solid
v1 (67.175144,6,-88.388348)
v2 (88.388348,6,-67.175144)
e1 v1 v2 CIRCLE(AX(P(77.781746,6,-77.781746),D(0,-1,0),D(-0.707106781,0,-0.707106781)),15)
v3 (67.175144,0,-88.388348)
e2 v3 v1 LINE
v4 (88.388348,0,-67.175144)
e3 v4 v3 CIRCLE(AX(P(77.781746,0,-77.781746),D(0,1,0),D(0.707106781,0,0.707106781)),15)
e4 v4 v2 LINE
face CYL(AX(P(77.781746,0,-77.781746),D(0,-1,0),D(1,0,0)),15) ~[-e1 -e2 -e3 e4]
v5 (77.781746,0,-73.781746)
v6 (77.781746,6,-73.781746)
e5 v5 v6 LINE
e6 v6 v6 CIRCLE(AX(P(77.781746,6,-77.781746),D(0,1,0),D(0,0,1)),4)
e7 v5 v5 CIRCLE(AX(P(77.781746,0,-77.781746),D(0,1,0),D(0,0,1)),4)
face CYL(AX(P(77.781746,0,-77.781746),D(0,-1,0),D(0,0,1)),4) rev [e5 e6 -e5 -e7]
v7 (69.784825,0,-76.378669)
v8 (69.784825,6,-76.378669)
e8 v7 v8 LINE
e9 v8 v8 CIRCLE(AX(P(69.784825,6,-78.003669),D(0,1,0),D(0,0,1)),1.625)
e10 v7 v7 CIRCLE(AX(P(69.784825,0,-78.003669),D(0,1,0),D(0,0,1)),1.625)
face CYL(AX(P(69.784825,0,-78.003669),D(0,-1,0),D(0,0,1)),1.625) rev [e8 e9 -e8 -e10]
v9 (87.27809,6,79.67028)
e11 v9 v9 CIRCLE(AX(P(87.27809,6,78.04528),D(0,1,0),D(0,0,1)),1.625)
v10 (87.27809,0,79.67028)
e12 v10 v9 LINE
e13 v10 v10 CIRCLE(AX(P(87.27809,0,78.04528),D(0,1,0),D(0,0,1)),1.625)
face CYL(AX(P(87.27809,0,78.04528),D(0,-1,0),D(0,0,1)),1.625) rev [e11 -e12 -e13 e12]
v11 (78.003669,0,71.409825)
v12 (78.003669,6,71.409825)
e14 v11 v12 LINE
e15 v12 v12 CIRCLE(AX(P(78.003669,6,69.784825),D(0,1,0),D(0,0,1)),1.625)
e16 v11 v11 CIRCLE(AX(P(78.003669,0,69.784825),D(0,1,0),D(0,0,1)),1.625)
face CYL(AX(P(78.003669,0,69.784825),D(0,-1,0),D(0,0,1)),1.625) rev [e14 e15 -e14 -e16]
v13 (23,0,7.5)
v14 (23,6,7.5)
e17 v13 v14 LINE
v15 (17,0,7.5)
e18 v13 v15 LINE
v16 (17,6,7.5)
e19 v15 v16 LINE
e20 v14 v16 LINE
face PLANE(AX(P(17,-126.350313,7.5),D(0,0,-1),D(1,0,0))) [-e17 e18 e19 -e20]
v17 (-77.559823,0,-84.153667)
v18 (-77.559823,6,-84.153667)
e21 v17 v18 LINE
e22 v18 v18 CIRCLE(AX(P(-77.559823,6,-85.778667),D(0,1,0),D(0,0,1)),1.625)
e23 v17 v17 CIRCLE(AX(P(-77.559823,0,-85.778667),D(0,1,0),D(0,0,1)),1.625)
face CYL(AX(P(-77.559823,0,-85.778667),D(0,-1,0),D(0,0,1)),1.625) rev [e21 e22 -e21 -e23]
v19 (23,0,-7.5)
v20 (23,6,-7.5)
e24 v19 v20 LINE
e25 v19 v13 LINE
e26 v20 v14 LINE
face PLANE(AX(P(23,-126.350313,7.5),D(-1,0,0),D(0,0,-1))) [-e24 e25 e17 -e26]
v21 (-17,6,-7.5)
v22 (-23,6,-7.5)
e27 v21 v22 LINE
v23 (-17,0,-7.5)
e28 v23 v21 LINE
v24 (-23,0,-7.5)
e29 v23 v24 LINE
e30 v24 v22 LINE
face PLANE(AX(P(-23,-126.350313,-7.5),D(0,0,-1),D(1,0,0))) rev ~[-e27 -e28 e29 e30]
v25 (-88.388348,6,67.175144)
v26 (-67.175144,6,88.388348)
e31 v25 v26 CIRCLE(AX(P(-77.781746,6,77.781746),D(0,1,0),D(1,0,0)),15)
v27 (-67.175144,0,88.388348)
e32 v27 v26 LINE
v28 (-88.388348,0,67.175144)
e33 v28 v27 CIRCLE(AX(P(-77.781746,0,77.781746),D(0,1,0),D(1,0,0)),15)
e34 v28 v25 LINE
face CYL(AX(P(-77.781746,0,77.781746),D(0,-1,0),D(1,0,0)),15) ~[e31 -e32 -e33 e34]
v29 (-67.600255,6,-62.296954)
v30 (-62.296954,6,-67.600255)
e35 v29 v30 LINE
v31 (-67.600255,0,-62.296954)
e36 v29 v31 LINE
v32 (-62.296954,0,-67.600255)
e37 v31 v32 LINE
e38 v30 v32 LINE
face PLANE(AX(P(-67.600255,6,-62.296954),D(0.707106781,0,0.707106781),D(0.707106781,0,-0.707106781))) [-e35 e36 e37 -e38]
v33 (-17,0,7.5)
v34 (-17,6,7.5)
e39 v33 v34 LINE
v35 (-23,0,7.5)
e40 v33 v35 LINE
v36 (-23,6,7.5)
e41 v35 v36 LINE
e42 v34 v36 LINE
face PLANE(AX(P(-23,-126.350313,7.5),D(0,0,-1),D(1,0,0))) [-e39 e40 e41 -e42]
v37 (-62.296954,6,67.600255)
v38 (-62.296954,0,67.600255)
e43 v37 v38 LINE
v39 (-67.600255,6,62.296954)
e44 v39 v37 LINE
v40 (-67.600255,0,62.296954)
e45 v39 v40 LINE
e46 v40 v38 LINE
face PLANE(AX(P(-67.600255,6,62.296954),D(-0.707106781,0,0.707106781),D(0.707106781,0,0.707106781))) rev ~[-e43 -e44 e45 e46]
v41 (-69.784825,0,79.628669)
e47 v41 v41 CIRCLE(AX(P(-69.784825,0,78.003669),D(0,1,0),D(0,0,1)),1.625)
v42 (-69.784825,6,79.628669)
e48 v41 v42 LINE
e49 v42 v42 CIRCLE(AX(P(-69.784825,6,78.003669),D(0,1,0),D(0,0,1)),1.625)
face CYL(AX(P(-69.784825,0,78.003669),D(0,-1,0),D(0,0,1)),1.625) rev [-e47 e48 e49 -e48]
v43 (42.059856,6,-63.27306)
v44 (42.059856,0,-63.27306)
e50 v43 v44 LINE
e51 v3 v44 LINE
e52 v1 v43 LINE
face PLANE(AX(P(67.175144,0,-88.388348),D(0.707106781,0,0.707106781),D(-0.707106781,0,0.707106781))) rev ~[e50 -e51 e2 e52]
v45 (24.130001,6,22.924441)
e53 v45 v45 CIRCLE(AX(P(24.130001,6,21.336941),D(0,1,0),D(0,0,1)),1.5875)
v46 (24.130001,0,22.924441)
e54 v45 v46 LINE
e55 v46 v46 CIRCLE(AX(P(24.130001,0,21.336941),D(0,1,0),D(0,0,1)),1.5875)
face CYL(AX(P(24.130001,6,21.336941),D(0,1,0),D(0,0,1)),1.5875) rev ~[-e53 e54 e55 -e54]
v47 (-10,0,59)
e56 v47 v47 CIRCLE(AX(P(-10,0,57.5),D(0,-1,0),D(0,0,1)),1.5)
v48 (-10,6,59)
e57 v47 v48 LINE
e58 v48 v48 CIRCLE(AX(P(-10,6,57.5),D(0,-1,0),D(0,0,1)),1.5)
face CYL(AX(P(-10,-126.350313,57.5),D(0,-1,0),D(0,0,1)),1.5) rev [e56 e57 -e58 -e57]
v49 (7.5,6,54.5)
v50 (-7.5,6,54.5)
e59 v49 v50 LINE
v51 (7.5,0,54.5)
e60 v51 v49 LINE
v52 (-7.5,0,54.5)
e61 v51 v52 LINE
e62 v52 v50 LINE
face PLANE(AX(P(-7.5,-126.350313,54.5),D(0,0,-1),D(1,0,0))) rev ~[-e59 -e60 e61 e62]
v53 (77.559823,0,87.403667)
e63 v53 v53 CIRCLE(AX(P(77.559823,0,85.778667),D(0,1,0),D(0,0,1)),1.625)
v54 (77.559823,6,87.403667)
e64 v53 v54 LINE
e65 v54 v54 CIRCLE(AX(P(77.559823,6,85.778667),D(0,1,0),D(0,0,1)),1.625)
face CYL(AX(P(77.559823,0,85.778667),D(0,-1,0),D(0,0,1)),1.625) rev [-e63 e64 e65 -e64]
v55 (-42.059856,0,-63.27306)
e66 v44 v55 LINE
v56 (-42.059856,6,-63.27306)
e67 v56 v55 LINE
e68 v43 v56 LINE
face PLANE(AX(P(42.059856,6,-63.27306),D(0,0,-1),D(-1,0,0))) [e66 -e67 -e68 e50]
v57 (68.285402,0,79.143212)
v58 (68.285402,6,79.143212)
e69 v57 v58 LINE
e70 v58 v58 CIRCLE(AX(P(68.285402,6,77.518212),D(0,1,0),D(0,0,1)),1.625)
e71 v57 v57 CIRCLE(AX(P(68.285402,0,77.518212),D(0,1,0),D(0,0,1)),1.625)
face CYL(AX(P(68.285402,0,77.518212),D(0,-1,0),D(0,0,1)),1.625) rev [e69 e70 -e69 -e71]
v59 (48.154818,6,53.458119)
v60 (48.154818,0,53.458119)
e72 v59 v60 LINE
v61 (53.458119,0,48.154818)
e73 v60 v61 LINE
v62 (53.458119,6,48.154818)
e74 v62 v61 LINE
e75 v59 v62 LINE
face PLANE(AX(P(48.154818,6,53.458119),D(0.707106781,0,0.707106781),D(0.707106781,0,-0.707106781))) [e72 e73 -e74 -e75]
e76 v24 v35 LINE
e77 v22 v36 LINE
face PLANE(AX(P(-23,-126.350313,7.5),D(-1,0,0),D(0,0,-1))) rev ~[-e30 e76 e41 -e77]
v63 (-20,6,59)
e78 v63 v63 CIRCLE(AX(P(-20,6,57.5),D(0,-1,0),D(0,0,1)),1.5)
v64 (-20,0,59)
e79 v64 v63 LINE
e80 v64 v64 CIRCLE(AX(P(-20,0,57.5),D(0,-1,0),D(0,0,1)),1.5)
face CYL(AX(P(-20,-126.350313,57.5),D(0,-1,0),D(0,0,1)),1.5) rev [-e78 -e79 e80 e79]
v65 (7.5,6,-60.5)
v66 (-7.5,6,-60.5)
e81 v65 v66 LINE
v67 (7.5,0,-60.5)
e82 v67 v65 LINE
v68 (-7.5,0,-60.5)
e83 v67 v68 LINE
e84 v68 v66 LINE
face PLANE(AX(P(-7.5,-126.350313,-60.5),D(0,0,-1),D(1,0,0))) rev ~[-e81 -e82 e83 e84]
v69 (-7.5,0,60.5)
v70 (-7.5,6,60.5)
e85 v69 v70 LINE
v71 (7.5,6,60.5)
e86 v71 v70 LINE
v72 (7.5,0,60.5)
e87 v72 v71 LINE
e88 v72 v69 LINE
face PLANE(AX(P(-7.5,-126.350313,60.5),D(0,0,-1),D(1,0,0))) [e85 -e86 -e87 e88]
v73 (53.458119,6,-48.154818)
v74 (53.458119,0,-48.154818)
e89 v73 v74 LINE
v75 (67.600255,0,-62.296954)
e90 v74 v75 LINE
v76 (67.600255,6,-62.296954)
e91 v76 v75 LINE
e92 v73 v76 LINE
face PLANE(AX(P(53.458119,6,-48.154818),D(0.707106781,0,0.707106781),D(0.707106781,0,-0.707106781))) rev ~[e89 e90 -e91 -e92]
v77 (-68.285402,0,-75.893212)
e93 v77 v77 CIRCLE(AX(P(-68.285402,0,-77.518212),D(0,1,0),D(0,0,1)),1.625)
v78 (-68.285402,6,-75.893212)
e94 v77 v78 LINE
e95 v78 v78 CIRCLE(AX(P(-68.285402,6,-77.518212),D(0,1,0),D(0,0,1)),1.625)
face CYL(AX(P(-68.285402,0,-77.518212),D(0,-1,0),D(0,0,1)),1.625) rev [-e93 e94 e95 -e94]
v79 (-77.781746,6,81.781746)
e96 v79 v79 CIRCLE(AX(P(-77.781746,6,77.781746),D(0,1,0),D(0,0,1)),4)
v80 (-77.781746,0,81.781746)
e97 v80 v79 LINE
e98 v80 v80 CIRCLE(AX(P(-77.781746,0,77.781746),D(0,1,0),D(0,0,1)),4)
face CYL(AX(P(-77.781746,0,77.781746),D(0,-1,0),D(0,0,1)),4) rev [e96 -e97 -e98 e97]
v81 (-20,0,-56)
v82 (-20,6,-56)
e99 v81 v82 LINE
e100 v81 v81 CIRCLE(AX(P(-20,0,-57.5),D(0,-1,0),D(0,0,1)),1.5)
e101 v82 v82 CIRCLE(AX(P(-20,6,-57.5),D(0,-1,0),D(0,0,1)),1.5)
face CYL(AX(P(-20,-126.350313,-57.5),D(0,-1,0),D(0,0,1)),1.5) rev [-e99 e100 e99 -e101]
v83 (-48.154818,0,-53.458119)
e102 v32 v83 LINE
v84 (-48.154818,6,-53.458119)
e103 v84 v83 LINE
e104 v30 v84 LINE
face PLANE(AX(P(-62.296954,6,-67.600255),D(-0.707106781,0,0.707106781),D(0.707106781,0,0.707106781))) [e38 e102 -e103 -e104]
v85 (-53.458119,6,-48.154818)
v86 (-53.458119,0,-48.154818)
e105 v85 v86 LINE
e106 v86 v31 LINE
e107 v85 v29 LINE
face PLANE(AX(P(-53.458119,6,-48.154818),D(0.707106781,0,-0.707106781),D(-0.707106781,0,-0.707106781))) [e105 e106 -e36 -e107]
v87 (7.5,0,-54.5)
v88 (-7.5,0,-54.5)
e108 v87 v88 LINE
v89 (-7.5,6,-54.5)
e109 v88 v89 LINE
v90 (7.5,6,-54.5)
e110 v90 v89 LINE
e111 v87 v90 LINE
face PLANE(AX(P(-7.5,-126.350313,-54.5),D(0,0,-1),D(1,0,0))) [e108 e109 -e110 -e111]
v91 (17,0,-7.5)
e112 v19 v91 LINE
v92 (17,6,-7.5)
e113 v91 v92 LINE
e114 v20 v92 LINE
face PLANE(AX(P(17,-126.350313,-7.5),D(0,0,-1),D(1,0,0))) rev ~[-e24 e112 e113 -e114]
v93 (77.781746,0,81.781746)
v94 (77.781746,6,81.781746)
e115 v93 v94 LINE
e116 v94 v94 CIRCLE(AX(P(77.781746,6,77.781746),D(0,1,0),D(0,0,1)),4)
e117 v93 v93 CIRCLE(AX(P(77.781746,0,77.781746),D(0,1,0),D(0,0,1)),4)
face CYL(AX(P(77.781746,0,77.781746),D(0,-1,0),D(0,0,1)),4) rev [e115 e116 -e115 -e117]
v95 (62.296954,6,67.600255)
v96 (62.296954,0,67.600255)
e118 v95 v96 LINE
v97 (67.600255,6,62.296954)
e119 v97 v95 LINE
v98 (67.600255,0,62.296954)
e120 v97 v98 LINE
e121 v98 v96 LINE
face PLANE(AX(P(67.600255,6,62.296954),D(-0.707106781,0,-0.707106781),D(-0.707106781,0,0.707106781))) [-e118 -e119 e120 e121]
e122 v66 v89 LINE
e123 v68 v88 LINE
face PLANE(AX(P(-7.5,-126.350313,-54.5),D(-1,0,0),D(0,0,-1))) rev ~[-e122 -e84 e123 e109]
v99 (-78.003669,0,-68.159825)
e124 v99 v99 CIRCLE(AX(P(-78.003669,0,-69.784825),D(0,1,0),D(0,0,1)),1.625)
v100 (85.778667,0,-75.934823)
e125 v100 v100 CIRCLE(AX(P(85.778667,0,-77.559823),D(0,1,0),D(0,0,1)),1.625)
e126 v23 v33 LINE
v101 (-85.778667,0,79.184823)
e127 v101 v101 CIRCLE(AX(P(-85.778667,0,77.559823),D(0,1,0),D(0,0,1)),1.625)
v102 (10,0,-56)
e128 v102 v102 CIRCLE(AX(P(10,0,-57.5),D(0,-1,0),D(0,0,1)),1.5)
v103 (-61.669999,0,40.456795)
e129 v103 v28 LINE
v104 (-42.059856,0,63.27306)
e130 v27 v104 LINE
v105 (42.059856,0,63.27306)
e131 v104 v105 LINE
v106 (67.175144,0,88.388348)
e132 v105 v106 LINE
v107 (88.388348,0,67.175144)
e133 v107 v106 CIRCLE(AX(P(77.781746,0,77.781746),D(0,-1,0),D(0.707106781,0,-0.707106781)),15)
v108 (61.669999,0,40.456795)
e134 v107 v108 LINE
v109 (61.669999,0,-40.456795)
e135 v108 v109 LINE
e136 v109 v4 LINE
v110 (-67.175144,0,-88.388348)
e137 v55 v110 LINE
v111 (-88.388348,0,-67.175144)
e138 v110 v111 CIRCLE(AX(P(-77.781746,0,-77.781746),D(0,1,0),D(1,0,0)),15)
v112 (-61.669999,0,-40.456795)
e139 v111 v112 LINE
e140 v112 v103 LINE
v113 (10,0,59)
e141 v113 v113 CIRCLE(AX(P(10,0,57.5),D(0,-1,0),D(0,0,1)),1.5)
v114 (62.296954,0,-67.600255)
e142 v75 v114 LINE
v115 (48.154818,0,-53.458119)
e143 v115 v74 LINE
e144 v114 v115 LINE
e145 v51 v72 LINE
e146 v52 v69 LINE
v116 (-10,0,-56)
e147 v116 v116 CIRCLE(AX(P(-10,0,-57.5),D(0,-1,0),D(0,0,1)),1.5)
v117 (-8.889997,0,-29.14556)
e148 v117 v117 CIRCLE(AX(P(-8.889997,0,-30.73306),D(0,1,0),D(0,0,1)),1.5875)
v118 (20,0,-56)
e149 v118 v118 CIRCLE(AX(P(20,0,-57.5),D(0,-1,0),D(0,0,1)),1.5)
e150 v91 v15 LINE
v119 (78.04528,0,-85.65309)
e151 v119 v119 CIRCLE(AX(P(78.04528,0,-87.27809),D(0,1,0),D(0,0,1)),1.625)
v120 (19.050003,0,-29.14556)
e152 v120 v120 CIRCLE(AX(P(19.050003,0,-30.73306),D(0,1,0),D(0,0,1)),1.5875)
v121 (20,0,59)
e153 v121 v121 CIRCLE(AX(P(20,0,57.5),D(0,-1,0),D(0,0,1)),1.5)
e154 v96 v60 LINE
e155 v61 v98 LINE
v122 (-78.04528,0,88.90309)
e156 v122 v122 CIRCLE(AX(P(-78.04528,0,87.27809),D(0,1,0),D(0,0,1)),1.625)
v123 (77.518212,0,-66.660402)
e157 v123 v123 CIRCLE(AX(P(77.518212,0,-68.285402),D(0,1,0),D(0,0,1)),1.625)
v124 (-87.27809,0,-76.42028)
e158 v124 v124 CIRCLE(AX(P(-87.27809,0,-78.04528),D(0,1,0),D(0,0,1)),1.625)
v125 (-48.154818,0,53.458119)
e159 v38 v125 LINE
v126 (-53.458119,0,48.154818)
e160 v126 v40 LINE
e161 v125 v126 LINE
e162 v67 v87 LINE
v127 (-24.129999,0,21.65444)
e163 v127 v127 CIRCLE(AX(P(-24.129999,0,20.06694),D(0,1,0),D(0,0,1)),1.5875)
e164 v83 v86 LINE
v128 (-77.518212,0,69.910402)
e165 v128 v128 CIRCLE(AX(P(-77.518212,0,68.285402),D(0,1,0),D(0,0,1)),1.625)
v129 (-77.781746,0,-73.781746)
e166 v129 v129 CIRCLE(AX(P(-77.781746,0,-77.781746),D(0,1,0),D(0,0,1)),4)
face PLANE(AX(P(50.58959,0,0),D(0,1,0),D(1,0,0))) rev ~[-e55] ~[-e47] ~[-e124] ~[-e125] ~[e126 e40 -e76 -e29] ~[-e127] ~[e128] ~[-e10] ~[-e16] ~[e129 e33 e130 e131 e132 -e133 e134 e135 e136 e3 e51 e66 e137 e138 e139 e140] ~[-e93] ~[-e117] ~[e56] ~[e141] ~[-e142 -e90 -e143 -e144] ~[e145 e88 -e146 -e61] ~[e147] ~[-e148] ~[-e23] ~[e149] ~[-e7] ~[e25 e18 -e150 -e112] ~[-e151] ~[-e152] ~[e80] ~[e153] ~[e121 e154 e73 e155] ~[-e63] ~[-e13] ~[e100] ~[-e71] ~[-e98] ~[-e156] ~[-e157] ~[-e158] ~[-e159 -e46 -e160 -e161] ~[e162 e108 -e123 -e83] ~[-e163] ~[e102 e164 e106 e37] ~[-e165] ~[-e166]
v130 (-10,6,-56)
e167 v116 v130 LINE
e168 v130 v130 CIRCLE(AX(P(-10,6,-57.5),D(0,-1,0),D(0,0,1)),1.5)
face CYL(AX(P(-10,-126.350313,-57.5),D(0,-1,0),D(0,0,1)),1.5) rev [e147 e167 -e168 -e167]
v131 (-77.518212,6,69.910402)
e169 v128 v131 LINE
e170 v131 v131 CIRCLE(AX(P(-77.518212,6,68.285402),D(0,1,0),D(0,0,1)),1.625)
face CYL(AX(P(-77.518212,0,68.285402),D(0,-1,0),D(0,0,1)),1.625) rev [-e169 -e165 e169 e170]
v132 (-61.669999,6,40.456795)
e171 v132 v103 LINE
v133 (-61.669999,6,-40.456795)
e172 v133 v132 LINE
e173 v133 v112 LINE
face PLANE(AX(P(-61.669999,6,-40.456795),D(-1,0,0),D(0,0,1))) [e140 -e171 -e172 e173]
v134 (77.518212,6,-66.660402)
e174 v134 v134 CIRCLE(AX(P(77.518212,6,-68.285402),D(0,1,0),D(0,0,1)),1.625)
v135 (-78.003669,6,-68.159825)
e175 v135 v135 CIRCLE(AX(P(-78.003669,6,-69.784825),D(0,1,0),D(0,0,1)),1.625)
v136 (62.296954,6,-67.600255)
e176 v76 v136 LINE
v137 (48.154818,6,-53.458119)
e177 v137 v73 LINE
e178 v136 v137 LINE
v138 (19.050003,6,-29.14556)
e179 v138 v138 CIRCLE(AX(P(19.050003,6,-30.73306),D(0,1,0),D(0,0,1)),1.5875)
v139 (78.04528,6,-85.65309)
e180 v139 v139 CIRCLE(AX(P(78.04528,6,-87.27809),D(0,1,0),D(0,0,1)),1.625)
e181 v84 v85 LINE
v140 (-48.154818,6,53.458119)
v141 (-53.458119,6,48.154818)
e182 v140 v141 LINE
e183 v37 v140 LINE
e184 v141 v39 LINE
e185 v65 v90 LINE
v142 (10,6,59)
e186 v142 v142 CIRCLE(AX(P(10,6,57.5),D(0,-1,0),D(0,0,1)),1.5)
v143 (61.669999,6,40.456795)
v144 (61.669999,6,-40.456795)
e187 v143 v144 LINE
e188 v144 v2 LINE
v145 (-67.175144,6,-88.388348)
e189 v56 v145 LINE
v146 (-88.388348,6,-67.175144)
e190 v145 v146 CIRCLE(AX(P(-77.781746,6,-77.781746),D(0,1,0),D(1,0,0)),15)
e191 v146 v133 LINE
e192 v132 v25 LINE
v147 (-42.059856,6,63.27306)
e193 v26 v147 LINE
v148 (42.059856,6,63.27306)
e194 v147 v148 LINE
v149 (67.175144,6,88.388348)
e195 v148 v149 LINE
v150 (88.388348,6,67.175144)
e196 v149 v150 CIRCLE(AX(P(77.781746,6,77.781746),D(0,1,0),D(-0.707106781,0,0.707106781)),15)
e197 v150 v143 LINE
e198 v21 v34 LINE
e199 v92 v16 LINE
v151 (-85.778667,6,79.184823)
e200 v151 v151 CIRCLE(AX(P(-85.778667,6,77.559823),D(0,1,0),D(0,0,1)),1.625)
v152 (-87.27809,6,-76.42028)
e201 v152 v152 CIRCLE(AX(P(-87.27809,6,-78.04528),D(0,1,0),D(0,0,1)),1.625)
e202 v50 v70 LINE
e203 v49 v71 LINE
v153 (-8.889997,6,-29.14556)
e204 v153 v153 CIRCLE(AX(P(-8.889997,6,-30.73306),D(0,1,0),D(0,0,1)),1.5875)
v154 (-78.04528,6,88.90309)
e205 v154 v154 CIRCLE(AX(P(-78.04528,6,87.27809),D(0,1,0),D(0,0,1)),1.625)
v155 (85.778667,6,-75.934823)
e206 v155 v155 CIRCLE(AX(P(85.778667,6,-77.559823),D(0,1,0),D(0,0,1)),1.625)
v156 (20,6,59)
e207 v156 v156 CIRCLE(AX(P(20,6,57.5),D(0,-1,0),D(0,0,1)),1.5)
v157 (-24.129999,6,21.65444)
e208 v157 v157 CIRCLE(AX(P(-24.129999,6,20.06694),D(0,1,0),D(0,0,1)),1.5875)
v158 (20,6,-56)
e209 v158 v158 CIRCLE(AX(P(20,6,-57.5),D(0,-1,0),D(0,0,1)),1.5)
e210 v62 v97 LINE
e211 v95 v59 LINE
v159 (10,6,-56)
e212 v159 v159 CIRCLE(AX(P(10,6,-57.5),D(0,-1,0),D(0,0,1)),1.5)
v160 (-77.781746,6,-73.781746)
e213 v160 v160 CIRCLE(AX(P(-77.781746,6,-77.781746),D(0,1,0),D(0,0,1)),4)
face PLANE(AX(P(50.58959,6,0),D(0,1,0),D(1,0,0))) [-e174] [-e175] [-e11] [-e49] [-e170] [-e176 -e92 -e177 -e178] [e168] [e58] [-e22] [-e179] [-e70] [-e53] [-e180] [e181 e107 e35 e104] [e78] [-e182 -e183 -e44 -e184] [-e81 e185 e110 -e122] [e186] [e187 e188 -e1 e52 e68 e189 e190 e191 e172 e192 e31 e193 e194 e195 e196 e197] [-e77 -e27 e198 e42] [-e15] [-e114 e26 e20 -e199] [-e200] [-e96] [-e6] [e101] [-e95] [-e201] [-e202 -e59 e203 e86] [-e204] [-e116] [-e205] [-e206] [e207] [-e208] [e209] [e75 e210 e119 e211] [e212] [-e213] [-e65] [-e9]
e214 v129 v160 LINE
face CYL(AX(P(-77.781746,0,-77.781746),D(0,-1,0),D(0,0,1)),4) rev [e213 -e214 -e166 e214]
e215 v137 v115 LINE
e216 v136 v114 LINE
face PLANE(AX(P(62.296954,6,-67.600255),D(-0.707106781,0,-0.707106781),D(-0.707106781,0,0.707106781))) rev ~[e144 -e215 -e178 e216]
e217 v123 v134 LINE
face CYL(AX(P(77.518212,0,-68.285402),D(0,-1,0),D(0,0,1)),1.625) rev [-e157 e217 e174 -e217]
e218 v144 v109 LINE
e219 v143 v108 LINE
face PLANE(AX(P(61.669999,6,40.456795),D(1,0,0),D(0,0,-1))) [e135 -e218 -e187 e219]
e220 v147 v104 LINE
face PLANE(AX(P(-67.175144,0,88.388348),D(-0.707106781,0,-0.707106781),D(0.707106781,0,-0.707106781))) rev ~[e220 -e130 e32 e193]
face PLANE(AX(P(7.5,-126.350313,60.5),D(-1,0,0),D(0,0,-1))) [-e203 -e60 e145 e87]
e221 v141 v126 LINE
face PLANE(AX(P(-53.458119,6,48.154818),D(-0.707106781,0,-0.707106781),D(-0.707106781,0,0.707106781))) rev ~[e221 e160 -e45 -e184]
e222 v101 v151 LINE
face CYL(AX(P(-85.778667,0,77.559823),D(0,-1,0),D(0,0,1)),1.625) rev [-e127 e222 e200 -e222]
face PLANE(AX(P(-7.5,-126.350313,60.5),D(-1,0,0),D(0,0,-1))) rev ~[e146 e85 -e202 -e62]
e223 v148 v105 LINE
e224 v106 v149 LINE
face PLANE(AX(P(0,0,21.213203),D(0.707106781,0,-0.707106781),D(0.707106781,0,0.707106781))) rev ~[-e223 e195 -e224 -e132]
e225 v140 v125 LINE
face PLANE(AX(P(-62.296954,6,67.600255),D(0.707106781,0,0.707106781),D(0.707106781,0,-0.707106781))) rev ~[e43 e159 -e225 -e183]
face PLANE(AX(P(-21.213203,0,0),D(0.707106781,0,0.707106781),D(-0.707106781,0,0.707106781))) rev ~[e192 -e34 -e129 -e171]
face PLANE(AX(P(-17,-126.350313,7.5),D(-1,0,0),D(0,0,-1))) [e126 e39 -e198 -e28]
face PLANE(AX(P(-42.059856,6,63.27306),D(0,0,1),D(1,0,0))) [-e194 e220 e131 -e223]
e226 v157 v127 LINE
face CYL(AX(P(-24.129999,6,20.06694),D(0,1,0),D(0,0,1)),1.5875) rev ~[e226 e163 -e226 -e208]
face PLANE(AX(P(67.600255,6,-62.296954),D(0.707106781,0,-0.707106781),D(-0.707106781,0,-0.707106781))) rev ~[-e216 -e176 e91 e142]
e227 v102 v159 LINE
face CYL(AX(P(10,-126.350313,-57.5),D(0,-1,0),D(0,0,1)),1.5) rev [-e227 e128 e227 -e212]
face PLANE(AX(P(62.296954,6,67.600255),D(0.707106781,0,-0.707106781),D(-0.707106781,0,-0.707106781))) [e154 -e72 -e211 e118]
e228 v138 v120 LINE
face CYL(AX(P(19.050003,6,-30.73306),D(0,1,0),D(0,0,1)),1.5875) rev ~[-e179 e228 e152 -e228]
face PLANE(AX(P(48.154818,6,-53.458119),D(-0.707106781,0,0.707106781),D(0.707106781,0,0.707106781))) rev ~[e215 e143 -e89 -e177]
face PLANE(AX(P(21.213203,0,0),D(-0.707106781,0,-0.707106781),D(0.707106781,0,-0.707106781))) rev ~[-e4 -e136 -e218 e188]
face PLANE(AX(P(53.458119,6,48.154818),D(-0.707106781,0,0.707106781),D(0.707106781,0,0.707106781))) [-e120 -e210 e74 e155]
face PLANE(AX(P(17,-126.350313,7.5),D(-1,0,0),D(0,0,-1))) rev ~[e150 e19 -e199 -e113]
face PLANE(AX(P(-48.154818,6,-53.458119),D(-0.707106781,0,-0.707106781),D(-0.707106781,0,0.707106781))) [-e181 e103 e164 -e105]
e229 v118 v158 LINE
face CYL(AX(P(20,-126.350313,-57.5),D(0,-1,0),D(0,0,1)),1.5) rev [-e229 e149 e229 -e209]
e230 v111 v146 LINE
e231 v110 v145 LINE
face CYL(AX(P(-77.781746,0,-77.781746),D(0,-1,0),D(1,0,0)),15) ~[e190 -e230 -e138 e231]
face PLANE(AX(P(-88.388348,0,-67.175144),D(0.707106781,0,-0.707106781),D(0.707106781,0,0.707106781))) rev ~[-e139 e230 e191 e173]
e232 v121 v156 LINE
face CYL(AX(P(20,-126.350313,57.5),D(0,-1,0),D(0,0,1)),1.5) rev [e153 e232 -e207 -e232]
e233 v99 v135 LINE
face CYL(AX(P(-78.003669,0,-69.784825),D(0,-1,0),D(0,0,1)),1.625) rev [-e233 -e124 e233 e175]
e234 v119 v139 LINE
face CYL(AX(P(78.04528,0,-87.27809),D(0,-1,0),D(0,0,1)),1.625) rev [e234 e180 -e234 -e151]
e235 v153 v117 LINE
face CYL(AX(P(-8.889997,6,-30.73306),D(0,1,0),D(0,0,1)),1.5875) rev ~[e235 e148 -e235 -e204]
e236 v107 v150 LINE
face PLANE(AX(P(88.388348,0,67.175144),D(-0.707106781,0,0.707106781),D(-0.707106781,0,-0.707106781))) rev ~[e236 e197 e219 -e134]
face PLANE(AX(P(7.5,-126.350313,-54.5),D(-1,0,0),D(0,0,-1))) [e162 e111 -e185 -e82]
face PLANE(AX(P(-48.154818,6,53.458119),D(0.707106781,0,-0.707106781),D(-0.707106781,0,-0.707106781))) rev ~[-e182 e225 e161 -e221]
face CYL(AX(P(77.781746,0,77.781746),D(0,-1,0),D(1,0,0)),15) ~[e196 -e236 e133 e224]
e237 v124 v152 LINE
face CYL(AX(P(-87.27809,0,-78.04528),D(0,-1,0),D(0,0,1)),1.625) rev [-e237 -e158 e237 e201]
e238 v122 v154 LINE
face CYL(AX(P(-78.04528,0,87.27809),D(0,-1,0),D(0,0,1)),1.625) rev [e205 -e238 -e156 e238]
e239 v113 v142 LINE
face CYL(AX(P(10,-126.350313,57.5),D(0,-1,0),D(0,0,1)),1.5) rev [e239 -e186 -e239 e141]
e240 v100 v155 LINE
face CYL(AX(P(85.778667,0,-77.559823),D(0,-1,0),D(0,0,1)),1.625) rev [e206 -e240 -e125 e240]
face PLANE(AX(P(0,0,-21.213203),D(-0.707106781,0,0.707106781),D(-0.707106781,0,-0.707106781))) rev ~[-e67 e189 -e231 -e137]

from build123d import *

# Parameters (mm, degrees)
SKETCH1_R               = 15
SKETCH1_R_2             = 4
BOSS_EXTRUDE1_DEPTH     = 6
SKETCH5_R               = 1.5875
BOSS_EXTRUDE2_DEPTH     = 6
SKETCH5_3_R             = 1.5875
CUT_EXTRUDE1_DEPTH      = 132.350313117
CUT_EXTRUDE2_START      = -6
SKETCH6_R               = 1.625
SKETCH6_R_2             = 4
CUT_EXTRUDE2_DEPTH      = 6
BOSS_EXTRUDE3_DEPTH     = 6
CUT_EXTRUDE7_DEPTH      = 6
CUT_EXTRUDE7_DEPTH_BACK = 132.350313117
SKETCH8_R               = 1.5
SKETCH8_W               = 15
SKETCH8_H               = 6
SKETCH8_W_2             = 6
SKETCH8_H_2             = 15
CUT_EXTRUDE9_DEPTH      = 132.350313117


with BuildPart() as part:
    # Sketch1 → Boss-Extrude1 (new body)
    # profile 1 of 9: a face of its own
    with BuildSketch(Plane(origin=(0, 0, 0), x_dir=(1, 0, 0), z_dir=(0, 1, 0))):
        with Locations((-77.781745931, 77.781745931)):
            Circle(SKETCH1_R)
        with Locations(Location((-77.781745931, 77.781745931, 0), (0, 0, 270))):
            Circle(SKETCH1_R_2, mode=Mode.SUBTRACT)
    # profile 2 of 9: a face of its own
    with BuildSketch(Plane(origin=(0, 0, 0), x_dir=(1, 0, 0), z_dir=(0, 1, 0))):
        with BuildLine():
            Line((0, 21.213203436), (-67.175144213, 88.388347648))
            ThreePointArc((-67.175144213, 88.388347648), (-63.923552943, 83.521997416), (-62.781745931, 77.781745931))
            ThreePointArc((-62.781745931, 77.781745931), (-72.041494445, 63.923552943), (-88.388347648, 67.175144213))
            Line((-88.388347648, 67.175144213), (-21.213203436, 0))
            Line((-21.213203436, 0), (0, 21.213203436))
        make_face()
    # profile 3 of 9: a face of its own
    with BuildSketch(Plane(origin=(0, 0, 0), x_dir=(1, 0, 0), z_dir=(0, 1, 0))):
        with Locations((-77.781745931, -77.781745931)):
            Circle(SKETCH1_R)
        with Locations(Location((-77.781745931, -77.781745931, 0), (0, 0, 270))):
            Circle(SKETCH1_R_2, mode=Mode.SUBTRACT)
    # profile 4 of 9: a face of its own
    with BuildSketch(Plane(origin=(0, 0, 0), x_dir=(1, 0, 0), z_dir=(0, 1, 0))):
        with BuildLine():
            Line((0, -21.213203436), (-21.213203436, 0))
            Line((-21.213203436, 0), (-88.388347648, -67.175144213))
            ThreePointArc((-88.388347648, -67.175144213), (-72.041494445, -63.923552943), (-62.781745931, -77.781745931))
            ThreePointArc((-62.781745931, -77.781745931), (-63.923552943, -83.521997416), (-67.175144213, -88.388347648))
            Line((-67.175144213, -88.388347648), (0, -21.213203436))
        make_face()
    # profile 5 of 9: a face of its own
    with BuildSketch(Plane(origin=(0, 0, 0), x_dir=(1, 0, 0), z_dir=(0, 1, 0))):
        with BuildLine():
            Line((88.388347648, -67.175144213), (21.213203436, 0))
            Line((21.213203436, 0), (0, -21.213203436))
            Line((0, -21.213203436), (67.175144213, -88.388347648))
            ThreePointArc((67.175144213, -88.388347648), (67.175144213, -67.175144213), (88.388347648, -67.175144213))
        make_face()
    # profile 6 of 9: a face of its own
    with BuildSketch(Plane(origin=(0, 0, 0), x_dir=(1, 0, 0), z_dir=(0, 1, 0))):
        with BuildLine():
            Line((67.175144213, 88.388347648), (0, 21.213203436))
            Line((0, 21.213203436), (21.213203436, 0))
            Line((21.213203436, 0), (88.388347648, 67.175144213))
            ThreePointArc((88.388347648, 67.175144213), (67.175144213, 67.175144213), (67.175144213, 88.388347648))
        make_face()
    # profile 7 of 9: a face of its own
    with BuildSketch(Plane(origin=(0, 0, 0), x_dir=(1, 0, 0), z_dir=(0, 1, 0))):
        Polygon((21.213203436, 0), (0, 21.213203436), (-21.213203436, 0), (0, -21.213203436), align=None)
    # profile 8 of 9: a face of its own
    with BuildSketch(Plane(origin=(0, 0, 0), x_dir=(1, 0, 0), z_dir=(0, 1, 0))):
        with Locations((77.781745931, -77.781745931)):
            Circle(SKETCH1_R)
        with Locations(Location((77.781745931, -77.781745931, 0), (0, 0, 270))):
            Circle(SKETCH1_R_2, mode=Mode.SUBTRACT)
    # profile 9 of 9: a face of its own
    with BuildSketch(Plane(origin=(0, 0, 0), x_dir=(1, 0, 0), z_dir=(0, 1, 0))):
        with Locations((77.781745931, 77.781745931)):
            Circle(SKETCH1_R)
        with Locations(Location((77.781745931, 77.781745931, 0), (0, 0, 270))):
            Circle(SKETCH1_R_2, mode=Mode.SUBTRACT)
    extrude(amount=BOSS_EXTRUDE1_DEPTH)

    # Sketch5 → Boss-Extrude2 (add)
    # profile 1 of 7: a face of its own
    with BuildSketch(Plane(origin=(0, 6, 0), x_dir=(1, 0, 0), z_dir=(0, 1, 0))):
        with BuildLine():
            Line((-10.282376441, 31.495579877), (-8.127477307, 29.340680742))
            ThreePointArc((-8.127477307, 29.340680742), (-7.524227144, 29.923845457), (-7.302497429, 30.733059754))
            ThreePointArc((-7.302497429, 30.733059754), (-8.496452915, 32.271006101), (-10.282376441, 31.495579877))
        make_face()
    # profile 2 of 7: a face of its own
    with BuildSketch(Plane(origin=(0, 6, 0), x_dir=(1, 0, 0), z_dir=(0, 1, 0))):
        with BuildLine():
            ThreePointArc((-10.282376441, 31.495579877), (-10.012529444, 29.610527739), (-8.127477307, 29.340680742))
            Line((-8.127477307, 29.340680742), (-10.282376441, 31.495579877))
        make_face()
    # profile 3 of 7: a face of its own
    with BuildSketch(Plane(origin=(0, 6, 0), x_dir=(1, 0, 0), z_dir=(0, 1, 0))):
        with BuildLine():
            Line((14.093737222, -35.306940657), (26.67, -35.306940784))
            Line((26.67, -35.306940784), (26.670001162, -5.456797726))
            Line((26.670001162, -5.456797726), (21.213203436, 0))
            Line((21.213203436, 0), (26.670001587, 5.456798151))
            Line((26.670001587, 5.456798151), (26.670002571, 30.733059754))
            Line((26.670002571, 30.733059754), (24.130002571, 30.733059754))
            Line((24.130002571, 30.733059754), (21.590002571, 33.273059754))
            Line((21.590002571, 33.273059754), (12.059856318, 33.273059754))
            Line((12.059856318, 33.273059754), (0, 21.213203436))
            Line((0, 21.213203436), (-8.127477307, 29.340680742))
            ThreePointArc((-8.127477307, 29.340680742), (-10.012529444, 29.610527739), (-10.282376441, 31.495579877))
            Line((-10.282376441, 31.495579877), (-11.617926874, 32.831130309))
            Line((-11.617926874, 32.831130309), (-13.715997429, 30.733059754))
            Line((-13.715997429, 30.733059754), (-26.669997429, 30.733059754))
            Line((-26.669997429, 30.733059754), (-26.669998413, 5.456794978))
            Line((-26.669998413, 5.456794978), (-21.213203436, 0))
            Line((-21.213203436, 0), (-26.669998838, -5.456795402))
            Line((-26.669998838, -5.456795402), (-26.67, -35.306940246))
            Line((-26.67, -35.306940246), (-14.093736937, -35.306940373))
            Line((-14.093736937, -35.306940373), (0, -21.213203436))
            Line((0, -21.213203436), (14.093737222, -35.306940657))
        make_face()
        with Locations((-24.129999407, -20.066940272)):
            Circle(SKETCH5_R, mode=Mode.SUBTRACT)
        with Locations((24.130000544, -21.336940759)):
            Circle(SKETCH5_R, mode=Mode.SUBTRACT)
        with Locations((19.050002571, 30.733059754)):
            Circle(SKETCH5_R, mode=Mode.SUBTRACT)
    # profile 4 of 7: a face of its own
    with BuildSketch(Plane(origin=(0, 6, 0), x_dir=(1, 0, 0), z_dir=(0, 1, 0))):
        Polygon((-26.669998413, 5.456794978), (-26.669998838, -5.456795402), (-21.213203436, 0), align=None)
    # profile 5 of 7: a face of its own
    with BuildSketch(Plane(origin=(0, 6, 0), x_dir=(1, 0, 0), z_dir=(0, 1, 0))):
        Polygon((21.213203436, 0), (26.670001162, -5.456797726), (26.670001587, 5.456798151), align=None)
    # profile 6 of 7: a face of its own
    with BuildSketch(Plane(origin=(0, 6, 0), x_dir=(1, 0, 0), z_dir=(0, 1, 0))):
        Polygon((-14.093736937, -35.306940373), (14.093737222, -35.306940657), (0, -21.213203436), align=None)
    # profile 7 of 7: a face of its own
    with BuildSketch(Plane(origin=(0, 6, 0), x_dir=(1, 0, 0), z_dir=(0, 1, 0))):
        with BuildLine():
            Line((0, 21.213203436), (12.059856318, 33.273059754))
            Line((12.059856318, 33.273059754), (-11.175997429, 33.273059754))
            Line((-11.175997429, 33.273059754), (-11.617926874, 32.831130309))
            Line((-11.617926874, 32.831130309), (-10.282376441, 31.495579877))
            ThreePointArc((-10.282376441, 31.495579877), (-8.496452915, 32.271006101), (-7.302497429, 30.733059754))
            ThreePointArc((-7.302497429, 30.733059754), (-7.524227144, 29.923845457), (-8.127477307, 29.340680742))
            Line((-8.127477307, 29.340680742), (0, 21.213203436))
        make_face()
    extrude(amount=-BOSS_EXTRUDE2_DEPTH)

    # Sketch5<3> → Cut-Extrude1 (cut, through all)
    with BuildSketch(Plane(origin=(0, 6, 0), x_dir=(1, 0, 0), z_dir=(0, 1, 0))):
        with Locations(Location((19.050002571, 30.733059754, 0), (0, 0, 270))):
            Circle(SKETCH5_3_R)
        with Locations(Location((-8.889997429, 30.733059754, 0), (0, 0, 270))):
            Circle(SKETCH5_3_R)
        with Locations(Location((24.130000544, -21.336940759, 0), (0, 0, 270))):
            Circle(SKETCH5_3_R)
        with Locations(Location((-24.129999407, -20.066940272, 0), (0, 0, 270))):
            Circle(SKETCH5_3_R)
    extrude(amount=-CUT_EXTRUDE1_DEPTH, mode=Mode.SUBTRACT)

    # Sketch6 → Cut-Extrude2 (cut)
    with BuildSketch(Plane(origin=(0, 6, 0), x_dir=(1, 0, 0), z_dir=(0, 1, 0)).offset(CUT_EXTRUDE2_START)):
        with Locations(Location((-69.784824646, -78.003669268, 0), (0, 0, 270))):
            Circle(SKETCH6_R)
        with Locations(Location((-78.045279894, -87.278089956, 0), (0, 0, 270))):
            Circle(SKETCH6_R)
        with Locations(Location((-77.518211967, -68.285401905, 0), (0, 0, 270))):
            Circle(SKETCH6_R)
        with Locations(Location((-85.778667215, -77.559822593, 0), (0, 0, 270))):
            Circle(SKETCH6_R)
        with Locations(Location((-77.781745931, -77.781745931, 0), (0, 0, 270))):
            Circle(SKETCH6_R_2)
        with Locations(Location((68.285401905, -77.518211967, 0), (0, 0, 270))):
            Circle(SKETCH6_R)
        with Locations(Location((87.278089956, -78.045279894, 0), (0, 0, 270))):
            Circle(SKETCH6_R)
        with Locations(Location((78.003669268, -69.784824646, 0), (0, 0, 270))):
            Circle(SKETCH6_R)
        with Locations(Location((77.559822593, -85.778667215, 0), (0, 0, 270))):
            Circle(SKETCH6_R)
        with Locations(Location((-87.278089956, 78.045279894, 0), (0, 0, 270))):
            Circle(SKETCH6_R)
        with Locations(Location((-77.559822593, 85.778667215, 0), (0, 0, 270))):
            Circle(SKETCH6_R)
        with Locations(Location((-78.003669268, 69.784824646, 0), (0, 0, 270))):
            Circle(SKETCH6_R)
        with Locations(Location((-68.285401905, 77.518211967, 0), (0, 0, 270))):
            Circle(SKETCH6_R)
        with Locations(Location((78.045279894, 87.278089956, 0), (0, 0, 270))):
            Circle(SKETCH6_R)
        with Locations(Location((77.518211967, 68.285401905, 0), (0, 0, 270))):
            Circle(SKETCH6_R)
        with Locations(Location((85.778667215, 77.559822593, 0), (0, 0, 270))):
            Circle(SKETCH6_R)
        with Locations(Location((69.784824646, 78.003669268, 0), (0, 0, 270))):
            Circle(SKETCH6_R)
    extrude(amount=CUT_EXTRUDE2_DEPTH, mode=Mode.SUBTRACT)

    # Sketch7 → Boss-Extrude3 (add)
    with BuildSketch(Plane(origin=(0, 6, 0), x_dir=(1, 0, 0), z_dir=(0, 1, 0))):
        Polygon((61.669998838, -40.456795402), (61.669998838, 40.456795402), (26.670001587, 5.456798151), (26.670001162, -5.456797726), align=None)
        Polygon((-61.669998838, -40.456795402), (-26.669998838, -5.456795402), (-26.669998413, 5.456794978), (-61.669998838, 40.456795402), align=None)
        Polygon((42.059856318, -63.273059754), (14.093737222, -35.306940657), (-14.093736937, -35.306940373), (-42.059856318, -63.273059754), align=None)
        Polygon((-42.059856318, 63.273059754), (-11.617926874, 32.831130309), (-11.175997429, 33.273059754), (12.059856318, 33.273059754), (42.059856318, 63.273059754), align=None)
    extrude(amount=-BOSS_EXTRUDE3_DEPTH)

    # Sketch8 → Cut-Extrude7 (cut, two sides: drawn at the far end of the back side and taken through both)
    with BuildSketch(Plane(origin=(0, 6, 0), x_dir=(1, 0, 0), z_dir=(0, 1, 0)).offset(-CUT_EXTRUDE7_DEPTH_BACK)):
        with Locations(Location((-20, 57.5, 0), (0, 0, 270))):
            Circle(SKETCH8_R)
        with Locations(Location((20, 57.5, 0), (0, 0, 270))):
            Circle(SKETCH8_R)
        with Locations(Location((20, -57.5, 0), (0, 0, 270))):
            Circle(SKETCH8_R)
        with Locations(Location((-20, -57.5, 0), (0, 0, 270))):
            Circle(SKETCH8_R)
        with Locations(Location((-10, 57.5, 0), (0, 0, 270))):
            Circle(SKETCH8_R)
        with Locations(Location((10, 57.5, 0), (0, 0, 270))):
            Circle(SKETCH8_R)
        with Locations(Location((-10, -57.5, 0), (0, 0, 270))):
            Circle(SKETCH8_R)
        with Locations(Location((10, -57.5, 0), (0, 0, 270))):
            Circle(SKETCH8_R)
        with Locations((0, 57.5)):
            Rectangle(SKETCH8_W, SKETCH8_H)
        with Locations((0, -57.5)):
            Rectangle(SKETCH8_W, SKETCH8_H)
        with Locations((-20, 0)):
            Rectangle(SKETCH8_W_2, SKETCH8_H_2)
        with Locations((20, 0)):
            Rectangle(SKETCH8_W_2, SKETCH8_H_2)
    extrude(amount=CUT_EXTRUDE7_DEPTH + CUT_EXTRUDE7_DEPTH_BACK, mode=Mode.SUBTRACT)

    # Sketch9 → Cut-Extrude9 (cut, through all)
    with BuildSketch(Plane(origin=(0, 6, 0), x_dir=(1, 0, 0), z_dir=(0, 1, 0))):
        Polygon((-67.600254781, 62.296953922), (-62.296953922, 67.600254781), (-48.154818298, 53.458119157), (-53.458119157, 48.154818298), align=None)
        Polygon((62.296953922, 67.600254781), (48.154818298, 53.458119157), (53.458119157, 48.154818298), (67.600254781, 62.296953922), align=None)
        Polygon((67.600254781, -62.296953922), (62.296953922, -67.600254781), (48.154818298, -53.458119157), (53.458119157, -48.154818298), align=None)
        Polygon((-62.296953922, -67.600254781), (-48.154818298, -53.458119157), (-53.458119157, -48.154818298), (-67.600254781, -62.296953922), align=None)
    extrude(amount=-CUT_EXTRUDE9_DEPTH, mode=Mode.SUBTRACT)


solid = part.part
